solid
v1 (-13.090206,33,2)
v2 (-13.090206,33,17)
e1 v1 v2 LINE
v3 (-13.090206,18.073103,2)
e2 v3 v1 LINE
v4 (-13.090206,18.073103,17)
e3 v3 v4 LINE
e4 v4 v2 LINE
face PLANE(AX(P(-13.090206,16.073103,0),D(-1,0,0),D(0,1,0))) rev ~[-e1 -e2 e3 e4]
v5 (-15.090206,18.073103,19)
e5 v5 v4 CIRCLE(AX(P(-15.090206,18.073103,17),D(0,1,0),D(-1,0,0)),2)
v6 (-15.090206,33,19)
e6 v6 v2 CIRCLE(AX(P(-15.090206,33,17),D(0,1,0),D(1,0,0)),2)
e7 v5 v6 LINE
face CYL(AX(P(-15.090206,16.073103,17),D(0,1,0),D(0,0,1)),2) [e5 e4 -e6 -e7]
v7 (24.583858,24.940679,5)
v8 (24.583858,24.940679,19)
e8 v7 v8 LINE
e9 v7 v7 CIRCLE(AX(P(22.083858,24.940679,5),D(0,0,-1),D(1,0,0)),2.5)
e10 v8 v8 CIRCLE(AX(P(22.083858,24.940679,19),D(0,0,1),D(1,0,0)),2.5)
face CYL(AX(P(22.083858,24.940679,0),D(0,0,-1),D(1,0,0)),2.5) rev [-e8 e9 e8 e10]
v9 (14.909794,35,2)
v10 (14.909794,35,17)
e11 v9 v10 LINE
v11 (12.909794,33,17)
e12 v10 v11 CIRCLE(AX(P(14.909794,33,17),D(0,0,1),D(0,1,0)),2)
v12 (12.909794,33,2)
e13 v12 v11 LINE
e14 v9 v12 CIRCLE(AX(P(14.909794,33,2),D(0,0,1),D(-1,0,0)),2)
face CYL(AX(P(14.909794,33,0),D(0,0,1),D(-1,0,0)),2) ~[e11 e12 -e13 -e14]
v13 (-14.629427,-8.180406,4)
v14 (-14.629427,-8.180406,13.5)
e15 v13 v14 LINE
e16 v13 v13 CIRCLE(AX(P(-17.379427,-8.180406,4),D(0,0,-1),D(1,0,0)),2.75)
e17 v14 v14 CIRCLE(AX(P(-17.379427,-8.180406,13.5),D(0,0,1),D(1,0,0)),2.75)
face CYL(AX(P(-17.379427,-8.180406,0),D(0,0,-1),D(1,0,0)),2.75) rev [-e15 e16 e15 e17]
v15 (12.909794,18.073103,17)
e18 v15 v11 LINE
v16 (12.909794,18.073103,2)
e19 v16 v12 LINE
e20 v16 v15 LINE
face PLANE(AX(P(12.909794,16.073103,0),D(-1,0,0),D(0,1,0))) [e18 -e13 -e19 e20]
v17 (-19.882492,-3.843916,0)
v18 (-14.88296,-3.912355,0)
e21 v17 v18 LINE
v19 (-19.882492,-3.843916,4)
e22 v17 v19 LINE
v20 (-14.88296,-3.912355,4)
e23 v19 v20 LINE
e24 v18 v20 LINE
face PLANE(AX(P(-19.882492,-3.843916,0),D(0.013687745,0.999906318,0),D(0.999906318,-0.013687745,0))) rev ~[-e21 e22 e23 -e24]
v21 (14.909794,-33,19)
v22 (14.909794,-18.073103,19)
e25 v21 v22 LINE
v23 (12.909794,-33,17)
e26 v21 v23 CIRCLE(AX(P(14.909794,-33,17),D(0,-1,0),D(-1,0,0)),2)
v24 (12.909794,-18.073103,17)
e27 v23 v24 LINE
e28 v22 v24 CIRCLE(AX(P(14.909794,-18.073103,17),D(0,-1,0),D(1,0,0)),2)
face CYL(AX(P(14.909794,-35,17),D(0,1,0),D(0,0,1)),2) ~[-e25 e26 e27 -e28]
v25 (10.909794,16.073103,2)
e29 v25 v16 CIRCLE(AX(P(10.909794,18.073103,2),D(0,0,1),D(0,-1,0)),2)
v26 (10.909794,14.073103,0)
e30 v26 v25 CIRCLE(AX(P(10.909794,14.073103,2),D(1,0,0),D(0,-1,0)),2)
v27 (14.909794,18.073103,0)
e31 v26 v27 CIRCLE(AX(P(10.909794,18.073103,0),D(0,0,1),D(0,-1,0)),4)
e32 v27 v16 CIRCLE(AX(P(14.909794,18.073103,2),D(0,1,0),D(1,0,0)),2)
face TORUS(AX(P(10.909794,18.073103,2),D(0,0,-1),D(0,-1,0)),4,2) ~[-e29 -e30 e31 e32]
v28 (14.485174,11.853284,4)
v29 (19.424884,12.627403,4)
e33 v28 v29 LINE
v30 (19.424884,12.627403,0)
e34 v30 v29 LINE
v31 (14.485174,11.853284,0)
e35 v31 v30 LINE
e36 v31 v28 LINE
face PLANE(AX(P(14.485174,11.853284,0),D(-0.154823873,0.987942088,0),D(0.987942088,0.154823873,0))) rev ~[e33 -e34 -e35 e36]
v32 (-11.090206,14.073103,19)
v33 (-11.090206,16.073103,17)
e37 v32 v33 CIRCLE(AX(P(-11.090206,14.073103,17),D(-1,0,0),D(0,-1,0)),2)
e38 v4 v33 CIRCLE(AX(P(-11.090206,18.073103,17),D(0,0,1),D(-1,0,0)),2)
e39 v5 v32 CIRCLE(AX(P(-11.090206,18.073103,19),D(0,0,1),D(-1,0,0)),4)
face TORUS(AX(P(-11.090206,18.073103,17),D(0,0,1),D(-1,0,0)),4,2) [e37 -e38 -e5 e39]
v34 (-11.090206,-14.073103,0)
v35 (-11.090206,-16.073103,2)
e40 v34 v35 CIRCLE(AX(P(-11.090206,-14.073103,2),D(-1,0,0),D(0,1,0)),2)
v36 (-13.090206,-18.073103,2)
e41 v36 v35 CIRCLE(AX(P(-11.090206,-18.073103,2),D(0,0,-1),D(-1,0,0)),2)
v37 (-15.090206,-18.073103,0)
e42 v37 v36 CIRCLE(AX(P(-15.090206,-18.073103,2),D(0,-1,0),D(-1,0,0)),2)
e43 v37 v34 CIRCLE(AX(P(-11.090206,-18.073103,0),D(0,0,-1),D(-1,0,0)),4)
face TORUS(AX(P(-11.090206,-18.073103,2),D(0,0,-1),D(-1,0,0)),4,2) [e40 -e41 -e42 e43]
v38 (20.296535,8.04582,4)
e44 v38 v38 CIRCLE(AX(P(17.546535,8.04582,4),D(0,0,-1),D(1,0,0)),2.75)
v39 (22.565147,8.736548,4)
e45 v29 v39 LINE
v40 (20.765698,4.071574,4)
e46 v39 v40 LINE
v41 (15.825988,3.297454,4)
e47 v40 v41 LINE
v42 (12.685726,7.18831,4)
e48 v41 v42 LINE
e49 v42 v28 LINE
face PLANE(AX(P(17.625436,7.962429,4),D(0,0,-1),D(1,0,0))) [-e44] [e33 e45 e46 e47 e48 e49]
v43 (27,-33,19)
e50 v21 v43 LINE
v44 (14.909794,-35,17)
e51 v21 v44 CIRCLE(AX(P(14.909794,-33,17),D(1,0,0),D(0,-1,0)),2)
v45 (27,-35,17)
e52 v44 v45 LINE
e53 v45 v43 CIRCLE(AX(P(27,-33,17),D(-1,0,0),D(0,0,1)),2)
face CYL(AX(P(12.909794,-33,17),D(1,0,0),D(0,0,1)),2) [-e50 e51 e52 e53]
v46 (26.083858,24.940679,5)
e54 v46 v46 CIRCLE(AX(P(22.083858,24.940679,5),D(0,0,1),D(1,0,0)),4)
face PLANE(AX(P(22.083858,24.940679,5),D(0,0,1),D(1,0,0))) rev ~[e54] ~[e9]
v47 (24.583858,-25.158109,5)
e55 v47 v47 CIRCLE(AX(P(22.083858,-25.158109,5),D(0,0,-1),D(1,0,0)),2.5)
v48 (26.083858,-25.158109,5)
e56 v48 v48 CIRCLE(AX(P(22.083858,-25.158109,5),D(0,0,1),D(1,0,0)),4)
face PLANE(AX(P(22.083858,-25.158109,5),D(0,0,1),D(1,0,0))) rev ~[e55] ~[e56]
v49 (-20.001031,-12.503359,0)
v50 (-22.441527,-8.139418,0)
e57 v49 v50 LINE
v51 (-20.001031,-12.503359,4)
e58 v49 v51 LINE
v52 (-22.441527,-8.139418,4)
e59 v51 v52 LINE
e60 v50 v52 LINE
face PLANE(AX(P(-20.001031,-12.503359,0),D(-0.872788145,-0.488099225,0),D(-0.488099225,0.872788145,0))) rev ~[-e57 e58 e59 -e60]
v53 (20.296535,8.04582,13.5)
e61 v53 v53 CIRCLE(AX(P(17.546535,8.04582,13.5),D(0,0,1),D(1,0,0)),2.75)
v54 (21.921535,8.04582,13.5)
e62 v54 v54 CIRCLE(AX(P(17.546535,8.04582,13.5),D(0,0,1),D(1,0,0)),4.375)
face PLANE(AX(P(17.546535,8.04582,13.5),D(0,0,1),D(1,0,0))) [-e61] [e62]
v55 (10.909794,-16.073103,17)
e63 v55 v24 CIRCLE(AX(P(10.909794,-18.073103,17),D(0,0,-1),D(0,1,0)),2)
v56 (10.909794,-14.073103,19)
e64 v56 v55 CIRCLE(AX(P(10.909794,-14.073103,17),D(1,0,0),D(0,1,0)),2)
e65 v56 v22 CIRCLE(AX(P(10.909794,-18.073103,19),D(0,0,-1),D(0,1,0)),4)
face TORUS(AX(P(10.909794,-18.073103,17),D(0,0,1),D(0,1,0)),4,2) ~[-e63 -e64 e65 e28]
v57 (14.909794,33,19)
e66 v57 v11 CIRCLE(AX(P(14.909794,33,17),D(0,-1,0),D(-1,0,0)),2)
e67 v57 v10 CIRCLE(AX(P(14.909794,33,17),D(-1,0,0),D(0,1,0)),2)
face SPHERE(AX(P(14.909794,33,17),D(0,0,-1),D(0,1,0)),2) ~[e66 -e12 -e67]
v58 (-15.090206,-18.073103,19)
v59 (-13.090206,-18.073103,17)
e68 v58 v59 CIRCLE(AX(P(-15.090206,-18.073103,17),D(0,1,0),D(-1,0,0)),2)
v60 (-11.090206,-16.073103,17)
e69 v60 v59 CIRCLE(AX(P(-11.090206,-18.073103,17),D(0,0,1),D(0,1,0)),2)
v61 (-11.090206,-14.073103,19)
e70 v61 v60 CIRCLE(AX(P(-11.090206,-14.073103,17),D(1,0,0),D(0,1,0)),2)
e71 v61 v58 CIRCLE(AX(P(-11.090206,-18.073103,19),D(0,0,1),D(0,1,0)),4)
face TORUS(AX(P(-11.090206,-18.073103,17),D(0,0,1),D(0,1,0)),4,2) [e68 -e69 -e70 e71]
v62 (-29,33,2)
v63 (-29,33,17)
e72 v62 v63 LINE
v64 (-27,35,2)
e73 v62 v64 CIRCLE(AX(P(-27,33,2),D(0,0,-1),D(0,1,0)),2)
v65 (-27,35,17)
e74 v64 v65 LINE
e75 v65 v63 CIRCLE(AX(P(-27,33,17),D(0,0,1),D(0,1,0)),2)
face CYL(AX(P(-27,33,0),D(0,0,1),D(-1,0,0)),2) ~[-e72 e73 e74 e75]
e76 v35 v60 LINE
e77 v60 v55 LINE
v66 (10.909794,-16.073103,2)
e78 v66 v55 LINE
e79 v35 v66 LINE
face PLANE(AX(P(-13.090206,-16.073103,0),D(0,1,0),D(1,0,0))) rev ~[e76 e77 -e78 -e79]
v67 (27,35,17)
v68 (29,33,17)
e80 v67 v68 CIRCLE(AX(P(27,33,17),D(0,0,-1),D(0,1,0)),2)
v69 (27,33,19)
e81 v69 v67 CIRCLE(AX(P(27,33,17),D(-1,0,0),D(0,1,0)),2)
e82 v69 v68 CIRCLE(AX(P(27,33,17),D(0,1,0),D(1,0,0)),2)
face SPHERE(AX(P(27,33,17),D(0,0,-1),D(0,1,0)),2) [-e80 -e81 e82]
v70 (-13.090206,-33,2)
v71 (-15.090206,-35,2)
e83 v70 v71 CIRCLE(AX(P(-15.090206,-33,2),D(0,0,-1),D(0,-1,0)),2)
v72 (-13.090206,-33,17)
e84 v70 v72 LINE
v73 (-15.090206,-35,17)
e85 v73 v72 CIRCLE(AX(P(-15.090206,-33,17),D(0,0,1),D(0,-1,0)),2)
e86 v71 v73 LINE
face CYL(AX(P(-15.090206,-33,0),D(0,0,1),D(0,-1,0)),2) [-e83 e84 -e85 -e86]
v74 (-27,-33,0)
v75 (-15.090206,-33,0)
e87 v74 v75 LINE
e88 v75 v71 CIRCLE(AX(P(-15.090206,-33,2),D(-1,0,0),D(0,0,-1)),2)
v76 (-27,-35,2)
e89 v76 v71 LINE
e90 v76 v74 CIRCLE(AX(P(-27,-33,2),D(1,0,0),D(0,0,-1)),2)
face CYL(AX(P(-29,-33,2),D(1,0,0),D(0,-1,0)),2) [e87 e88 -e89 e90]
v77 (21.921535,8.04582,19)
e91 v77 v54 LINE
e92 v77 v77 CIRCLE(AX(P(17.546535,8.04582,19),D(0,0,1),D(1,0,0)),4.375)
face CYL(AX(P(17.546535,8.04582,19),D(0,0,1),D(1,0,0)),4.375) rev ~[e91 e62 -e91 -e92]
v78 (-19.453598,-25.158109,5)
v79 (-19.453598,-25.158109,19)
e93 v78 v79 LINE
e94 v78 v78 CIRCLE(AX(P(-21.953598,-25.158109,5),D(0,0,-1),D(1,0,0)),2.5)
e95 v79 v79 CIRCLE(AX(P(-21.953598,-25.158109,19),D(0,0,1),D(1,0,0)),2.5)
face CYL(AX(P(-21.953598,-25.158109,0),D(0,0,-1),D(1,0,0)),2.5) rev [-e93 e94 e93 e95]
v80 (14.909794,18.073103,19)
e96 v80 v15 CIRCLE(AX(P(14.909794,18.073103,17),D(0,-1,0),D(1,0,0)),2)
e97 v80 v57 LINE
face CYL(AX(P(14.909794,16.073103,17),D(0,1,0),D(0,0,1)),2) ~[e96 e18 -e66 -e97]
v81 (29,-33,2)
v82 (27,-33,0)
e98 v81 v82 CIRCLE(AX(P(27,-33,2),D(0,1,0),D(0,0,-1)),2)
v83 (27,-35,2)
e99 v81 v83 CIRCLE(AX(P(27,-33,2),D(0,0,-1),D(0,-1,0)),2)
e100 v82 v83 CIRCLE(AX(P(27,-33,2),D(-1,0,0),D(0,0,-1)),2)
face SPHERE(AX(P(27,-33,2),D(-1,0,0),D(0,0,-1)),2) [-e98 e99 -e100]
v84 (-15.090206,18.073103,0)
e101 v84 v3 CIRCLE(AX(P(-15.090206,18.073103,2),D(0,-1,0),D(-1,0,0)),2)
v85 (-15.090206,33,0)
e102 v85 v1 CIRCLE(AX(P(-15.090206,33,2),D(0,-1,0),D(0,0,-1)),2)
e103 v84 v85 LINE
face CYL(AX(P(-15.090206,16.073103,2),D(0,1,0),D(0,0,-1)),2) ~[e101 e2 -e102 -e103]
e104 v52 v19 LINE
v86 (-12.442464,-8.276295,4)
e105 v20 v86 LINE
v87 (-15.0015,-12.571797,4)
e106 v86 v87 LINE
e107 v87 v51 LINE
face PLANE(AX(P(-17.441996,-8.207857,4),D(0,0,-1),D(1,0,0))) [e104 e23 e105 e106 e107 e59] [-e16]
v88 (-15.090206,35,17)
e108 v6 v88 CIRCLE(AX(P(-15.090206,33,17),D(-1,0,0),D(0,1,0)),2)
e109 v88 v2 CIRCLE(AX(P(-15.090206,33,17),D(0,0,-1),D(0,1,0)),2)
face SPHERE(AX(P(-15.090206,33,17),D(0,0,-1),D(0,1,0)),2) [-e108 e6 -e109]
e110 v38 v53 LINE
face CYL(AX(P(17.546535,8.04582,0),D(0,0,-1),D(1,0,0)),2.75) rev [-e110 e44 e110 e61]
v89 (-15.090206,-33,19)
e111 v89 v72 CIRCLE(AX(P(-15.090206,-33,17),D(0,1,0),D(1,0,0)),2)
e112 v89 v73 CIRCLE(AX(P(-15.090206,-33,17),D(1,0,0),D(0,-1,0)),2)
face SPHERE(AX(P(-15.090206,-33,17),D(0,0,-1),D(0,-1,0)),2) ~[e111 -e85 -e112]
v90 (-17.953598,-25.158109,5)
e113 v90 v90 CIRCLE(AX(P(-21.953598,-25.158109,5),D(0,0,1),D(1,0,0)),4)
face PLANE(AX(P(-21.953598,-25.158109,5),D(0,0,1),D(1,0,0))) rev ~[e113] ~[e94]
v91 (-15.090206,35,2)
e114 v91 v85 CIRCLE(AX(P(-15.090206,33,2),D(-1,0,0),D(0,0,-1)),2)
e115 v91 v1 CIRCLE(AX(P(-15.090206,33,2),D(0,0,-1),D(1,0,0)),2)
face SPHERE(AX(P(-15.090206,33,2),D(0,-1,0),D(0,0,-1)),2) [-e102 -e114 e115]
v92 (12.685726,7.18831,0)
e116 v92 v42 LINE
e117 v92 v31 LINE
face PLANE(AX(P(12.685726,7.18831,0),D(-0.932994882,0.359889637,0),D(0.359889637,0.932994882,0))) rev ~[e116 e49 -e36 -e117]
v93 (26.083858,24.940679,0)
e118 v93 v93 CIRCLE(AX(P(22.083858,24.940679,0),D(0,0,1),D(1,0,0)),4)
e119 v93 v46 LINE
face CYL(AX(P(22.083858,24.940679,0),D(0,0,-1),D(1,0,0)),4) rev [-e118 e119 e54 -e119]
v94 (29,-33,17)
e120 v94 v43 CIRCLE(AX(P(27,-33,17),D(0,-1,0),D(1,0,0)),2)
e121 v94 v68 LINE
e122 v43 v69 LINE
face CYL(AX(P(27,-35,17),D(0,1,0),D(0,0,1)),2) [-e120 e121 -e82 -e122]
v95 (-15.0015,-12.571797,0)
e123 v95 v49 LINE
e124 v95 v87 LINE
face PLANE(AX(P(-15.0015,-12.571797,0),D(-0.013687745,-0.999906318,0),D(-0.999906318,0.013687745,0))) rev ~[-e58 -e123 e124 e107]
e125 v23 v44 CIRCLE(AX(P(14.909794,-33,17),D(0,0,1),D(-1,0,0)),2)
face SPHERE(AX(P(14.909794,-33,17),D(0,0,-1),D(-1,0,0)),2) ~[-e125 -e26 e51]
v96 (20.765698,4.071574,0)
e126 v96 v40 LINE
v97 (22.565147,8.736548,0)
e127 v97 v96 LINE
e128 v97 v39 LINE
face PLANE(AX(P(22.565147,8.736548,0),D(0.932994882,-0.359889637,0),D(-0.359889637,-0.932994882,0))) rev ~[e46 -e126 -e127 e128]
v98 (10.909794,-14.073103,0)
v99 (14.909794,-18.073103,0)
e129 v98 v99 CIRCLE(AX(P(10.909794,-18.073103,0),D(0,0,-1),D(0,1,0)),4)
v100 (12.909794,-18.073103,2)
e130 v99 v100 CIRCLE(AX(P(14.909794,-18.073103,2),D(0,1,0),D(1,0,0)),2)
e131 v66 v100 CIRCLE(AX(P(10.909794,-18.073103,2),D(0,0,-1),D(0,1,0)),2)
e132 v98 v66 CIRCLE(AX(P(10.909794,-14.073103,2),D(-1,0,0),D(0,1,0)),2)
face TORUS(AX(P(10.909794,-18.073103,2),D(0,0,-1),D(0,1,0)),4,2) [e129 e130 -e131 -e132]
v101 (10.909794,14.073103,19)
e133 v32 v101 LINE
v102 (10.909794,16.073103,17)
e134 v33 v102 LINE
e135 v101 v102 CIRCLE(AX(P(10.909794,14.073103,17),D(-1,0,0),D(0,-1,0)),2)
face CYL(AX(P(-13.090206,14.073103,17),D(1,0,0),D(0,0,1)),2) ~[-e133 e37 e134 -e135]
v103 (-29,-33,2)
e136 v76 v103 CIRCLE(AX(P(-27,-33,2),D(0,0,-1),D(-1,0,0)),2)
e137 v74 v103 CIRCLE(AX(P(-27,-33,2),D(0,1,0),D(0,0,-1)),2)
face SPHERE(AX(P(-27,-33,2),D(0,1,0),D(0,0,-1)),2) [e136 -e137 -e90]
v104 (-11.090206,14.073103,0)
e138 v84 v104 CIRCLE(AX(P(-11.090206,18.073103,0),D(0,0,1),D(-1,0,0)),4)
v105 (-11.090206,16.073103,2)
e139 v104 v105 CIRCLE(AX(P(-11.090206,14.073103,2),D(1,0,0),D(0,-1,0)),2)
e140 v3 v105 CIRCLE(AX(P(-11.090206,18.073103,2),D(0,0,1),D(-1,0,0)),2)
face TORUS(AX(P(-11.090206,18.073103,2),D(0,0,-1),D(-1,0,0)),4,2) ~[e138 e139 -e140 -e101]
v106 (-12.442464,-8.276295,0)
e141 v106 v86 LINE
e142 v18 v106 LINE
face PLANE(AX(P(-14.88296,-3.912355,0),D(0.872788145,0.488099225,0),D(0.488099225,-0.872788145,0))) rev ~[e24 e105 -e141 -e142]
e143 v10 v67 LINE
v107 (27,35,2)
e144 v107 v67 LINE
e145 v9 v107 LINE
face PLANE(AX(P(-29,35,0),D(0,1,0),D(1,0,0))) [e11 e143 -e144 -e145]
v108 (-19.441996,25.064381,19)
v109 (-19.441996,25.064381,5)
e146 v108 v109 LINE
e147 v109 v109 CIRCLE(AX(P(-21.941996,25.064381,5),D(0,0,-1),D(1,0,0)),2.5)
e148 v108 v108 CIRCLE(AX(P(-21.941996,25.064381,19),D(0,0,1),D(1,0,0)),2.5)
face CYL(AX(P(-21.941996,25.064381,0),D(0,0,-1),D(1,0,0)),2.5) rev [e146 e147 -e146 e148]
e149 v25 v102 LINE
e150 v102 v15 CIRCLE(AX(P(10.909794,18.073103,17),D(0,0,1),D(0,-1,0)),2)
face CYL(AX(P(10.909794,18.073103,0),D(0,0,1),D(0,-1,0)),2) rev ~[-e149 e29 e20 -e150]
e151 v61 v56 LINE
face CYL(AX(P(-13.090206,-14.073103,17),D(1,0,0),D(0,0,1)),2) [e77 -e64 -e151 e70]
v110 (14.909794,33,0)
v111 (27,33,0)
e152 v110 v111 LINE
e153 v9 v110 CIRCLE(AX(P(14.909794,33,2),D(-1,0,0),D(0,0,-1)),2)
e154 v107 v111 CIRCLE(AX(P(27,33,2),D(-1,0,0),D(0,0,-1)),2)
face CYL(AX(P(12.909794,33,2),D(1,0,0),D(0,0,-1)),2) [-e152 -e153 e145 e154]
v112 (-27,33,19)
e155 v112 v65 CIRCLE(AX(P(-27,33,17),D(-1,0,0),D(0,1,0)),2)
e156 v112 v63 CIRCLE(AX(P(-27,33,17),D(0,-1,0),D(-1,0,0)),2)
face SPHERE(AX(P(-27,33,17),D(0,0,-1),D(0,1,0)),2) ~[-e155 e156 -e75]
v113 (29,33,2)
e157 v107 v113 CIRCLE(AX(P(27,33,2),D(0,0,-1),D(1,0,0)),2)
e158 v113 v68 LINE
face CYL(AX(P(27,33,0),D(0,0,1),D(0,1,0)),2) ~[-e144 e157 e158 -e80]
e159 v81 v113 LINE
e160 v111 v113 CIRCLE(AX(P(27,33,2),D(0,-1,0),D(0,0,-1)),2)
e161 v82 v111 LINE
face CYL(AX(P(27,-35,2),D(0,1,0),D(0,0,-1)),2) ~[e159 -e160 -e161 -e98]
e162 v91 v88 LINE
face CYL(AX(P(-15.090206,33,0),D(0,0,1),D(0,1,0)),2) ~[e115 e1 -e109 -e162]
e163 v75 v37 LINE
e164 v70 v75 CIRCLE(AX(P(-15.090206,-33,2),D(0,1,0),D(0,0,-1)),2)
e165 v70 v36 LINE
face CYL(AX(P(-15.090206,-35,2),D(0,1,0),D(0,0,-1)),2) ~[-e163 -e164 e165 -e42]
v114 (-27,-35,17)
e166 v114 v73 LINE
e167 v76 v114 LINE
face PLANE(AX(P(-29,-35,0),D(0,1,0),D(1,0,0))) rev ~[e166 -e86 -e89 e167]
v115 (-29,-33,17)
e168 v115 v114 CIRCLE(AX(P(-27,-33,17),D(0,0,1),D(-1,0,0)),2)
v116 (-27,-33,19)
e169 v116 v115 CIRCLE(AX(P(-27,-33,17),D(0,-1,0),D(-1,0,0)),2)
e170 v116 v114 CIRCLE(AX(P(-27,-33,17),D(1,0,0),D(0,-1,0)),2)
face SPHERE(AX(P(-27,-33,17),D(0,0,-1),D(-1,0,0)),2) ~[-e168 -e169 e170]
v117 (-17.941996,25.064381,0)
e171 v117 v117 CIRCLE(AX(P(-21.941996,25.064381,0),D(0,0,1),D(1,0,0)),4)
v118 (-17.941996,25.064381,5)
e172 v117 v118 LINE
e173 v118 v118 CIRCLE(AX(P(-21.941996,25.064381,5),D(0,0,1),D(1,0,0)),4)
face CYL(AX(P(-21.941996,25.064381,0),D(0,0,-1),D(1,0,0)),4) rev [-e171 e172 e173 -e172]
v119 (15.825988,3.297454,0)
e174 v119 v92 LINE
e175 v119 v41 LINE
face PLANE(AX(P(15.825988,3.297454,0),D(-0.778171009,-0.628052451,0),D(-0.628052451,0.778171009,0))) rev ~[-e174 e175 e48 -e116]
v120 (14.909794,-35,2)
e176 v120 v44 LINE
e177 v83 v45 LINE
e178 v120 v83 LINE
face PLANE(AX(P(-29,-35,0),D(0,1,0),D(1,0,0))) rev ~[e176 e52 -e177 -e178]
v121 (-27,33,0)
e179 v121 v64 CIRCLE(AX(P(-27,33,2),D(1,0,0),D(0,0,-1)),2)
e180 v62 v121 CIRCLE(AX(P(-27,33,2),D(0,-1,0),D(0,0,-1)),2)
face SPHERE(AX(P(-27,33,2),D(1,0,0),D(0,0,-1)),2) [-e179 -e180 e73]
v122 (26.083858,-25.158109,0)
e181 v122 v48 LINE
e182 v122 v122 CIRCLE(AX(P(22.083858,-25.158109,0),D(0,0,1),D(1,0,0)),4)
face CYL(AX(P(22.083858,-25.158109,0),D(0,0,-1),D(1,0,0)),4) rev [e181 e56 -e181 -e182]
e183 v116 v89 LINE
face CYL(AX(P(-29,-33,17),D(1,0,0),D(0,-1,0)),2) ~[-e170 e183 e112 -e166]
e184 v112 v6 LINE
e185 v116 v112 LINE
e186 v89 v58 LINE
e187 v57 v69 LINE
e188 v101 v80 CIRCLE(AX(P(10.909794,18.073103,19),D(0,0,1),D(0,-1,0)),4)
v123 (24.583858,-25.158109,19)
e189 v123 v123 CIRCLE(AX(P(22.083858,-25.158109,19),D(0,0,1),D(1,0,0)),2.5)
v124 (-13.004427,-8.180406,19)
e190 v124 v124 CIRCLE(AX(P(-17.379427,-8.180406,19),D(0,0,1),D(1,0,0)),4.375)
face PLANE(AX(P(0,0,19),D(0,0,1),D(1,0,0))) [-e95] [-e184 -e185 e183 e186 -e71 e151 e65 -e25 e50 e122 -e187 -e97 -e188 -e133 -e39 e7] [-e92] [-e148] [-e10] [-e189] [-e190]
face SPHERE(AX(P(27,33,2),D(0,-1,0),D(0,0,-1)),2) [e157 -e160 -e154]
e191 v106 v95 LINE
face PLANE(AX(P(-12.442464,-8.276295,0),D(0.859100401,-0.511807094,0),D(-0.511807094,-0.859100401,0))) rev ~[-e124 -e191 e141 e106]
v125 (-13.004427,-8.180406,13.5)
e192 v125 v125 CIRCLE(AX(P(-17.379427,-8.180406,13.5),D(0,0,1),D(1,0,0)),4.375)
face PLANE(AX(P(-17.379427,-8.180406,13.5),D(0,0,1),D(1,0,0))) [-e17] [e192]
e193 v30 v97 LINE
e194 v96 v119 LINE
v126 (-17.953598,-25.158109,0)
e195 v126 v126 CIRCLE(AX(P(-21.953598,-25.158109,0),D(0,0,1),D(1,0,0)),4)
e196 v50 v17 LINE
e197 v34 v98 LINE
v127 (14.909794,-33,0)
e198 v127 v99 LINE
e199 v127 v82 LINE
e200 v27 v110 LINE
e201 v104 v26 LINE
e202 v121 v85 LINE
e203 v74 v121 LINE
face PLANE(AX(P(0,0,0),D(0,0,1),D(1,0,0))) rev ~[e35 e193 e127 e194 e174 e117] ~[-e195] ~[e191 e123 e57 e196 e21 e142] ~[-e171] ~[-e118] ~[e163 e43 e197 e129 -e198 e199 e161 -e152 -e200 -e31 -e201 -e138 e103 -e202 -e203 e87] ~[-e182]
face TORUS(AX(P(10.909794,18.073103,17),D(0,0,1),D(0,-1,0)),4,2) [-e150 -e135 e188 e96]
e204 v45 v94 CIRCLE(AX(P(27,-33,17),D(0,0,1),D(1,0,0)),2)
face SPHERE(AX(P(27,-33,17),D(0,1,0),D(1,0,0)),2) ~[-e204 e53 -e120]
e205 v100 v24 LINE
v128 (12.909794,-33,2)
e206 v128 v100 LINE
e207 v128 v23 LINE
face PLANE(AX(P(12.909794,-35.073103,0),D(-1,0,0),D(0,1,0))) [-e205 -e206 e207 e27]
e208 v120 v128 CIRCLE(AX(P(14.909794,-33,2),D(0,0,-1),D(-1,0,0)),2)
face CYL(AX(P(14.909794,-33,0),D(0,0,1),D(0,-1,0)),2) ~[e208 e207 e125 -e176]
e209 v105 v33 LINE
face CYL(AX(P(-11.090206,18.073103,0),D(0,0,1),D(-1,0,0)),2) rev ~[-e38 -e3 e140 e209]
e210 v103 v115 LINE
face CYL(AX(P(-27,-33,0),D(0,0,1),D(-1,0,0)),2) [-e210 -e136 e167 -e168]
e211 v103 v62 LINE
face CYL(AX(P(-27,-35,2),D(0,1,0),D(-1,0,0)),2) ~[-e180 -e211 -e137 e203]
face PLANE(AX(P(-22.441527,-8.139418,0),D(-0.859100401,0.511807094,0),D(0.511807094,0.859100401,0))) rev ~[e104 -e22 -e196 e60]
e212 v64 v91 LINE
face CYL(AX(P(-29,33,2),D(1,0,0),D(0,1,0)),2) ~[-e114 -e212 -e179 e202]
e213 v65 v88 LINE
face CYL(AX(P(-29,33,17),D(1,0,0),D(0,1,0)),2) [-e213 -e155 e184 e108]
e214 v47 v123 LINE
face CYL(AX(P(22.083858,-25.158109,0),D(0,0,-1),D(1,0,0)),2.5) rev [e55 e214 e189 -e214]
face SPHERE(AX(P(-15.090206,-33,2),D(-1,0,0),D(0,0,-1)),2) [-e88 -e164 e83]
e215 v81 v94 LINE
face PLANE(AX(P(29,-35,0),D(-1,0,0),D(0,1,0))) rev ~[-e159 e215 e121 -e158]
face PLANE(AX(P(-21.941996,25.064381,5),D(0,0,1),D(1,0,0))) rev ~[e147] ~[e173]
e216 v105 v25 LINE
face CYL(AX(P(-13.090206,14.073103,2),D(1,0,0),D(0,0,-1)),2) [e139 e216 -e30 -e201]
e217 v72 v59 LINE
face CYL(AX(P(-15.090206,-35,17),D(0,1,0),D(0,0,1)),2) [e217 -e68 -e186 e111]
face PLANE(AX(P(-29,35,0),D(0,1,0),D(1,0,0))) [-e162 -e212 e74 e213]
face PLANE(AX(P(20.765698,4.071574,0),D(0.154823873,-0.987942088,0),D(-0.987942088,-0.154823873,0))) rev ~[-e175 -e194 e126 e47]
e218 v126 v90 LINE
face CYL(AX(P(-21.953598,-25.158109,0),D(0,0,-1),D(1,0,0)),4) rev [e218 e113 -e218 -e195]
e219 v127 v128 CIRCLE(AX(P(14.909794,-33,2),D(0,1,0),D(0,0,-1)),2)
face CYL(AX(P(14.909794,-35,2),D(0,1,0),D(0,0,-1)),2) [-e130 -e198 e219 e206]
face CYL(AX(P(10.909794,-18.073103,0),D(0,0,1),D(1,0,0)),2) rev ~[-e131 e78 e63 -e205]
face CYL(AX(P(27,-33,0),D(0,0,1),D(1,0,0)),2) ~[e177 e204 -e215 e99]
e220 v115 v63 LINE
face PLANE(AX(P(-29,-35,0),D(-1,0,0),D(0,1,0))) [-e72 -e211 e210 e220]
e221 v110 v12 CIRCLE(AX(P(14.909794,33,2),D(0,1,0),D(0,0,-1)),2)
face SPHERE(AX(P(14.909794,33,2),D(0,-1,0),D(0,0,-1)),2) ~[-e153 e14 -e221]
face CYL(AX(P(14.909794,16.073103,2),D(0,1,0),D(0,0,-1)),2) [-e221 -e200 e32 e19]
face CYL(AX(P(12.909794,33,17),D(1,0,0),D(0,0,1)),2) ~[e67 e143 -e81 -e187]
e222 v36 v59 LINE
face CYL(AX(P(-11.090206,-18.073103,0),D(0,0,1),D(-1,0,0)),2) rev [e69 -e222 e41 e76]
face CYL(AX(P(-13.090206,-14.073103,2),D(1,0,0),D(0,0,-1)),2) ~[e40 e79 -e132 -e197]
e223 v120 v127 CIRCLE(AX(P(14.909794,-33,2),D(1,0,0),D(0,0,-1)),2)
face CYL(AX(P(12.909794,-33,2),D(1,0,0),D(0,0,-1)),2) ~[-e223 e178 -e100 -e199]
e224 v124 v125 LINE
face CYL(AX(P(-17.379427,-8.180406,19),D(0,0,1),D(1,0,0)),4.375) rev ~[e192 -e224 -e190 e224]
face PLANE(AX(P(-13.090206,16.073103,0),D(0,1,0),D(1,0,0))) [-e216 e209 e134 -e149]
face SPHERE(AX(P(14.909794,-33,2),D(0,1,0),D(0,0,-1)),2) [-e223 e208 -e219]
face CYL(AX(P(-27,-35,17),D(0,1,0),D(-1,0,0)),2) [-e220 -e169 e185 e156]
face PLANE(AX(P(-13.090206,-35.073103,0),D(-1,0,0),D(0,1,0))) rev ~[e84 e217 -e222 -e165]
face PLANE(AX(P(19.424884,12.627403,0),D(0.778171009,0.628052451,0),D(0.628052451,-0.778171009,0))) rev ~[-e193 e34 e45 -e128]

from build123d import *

# Parameters (mm, degrees)
F0_W      = 58
F0_H      = 70
F4_DEPTH  = 19
F3_R      = 2.5
F5_DEPTH  = 14
F2_R      = 4
F6_DEPTH  = 5
F7_DEPTH  = 19
F8_DEPTH  = 5
F9_R      = 2.75
F10_DEPTH = 19
F12_DEPTH = 4
F13_W     = 26
F13_H     = 19
F14_DEPTH = 19
F15_R     = 2
F16_R     = 4.375
F16_R_2   = 2.75
F17_DEPTH = 5.5


with BuildPart() as f4:
    # F0 (on Top) → F4 (new body)
    with BuildSketch(Plane.XY):
        Rectangle(F0_W, F0_H)
    extrude(amount=F4_DEPTH)

    # F3 (on Top) → F5 (cut)
    with BuildSketch(Plane.XY):
        with Locations((-21.9419958555, 25.0643808395)):
            Circle(F3_R)
    extrude(amount=F5_DEPTH, mode=Mode.SUBTRACT)

    # F2 (on Top) → F6 (cut)
    with BuildSketch(Plane.XY):
        with Locations((-21.9419958555, 25.0643808395)):
            Circle(F2_R)
    extrude(amount=F6_DEPTH, mode=Mode.SUBTRACT)

    # F3 (on Top) → F7 (cut)
    with BuildSketch(Plane.XY):
        with Locations((-21.9419958555, 25.0643808395)):
            Circle(F3_R)
        with Locations((22.0838580281, 24.9406788498)):
            Circle(F3_R)
        with Locations((-21.9535976648, -25.1581091434)):
            Circle(F3_R)
        with Locations((22.0838580281, -25.1581091434)):
            Circle(F3_R)
    extrude(amount=F7_DEPTH, mode=Mode.SUBTRACT)

    # F2 (on Top) → F8 (cut)
    with BuildSketch(Plane.XY):
        with Locations((-21.9419958555, 25.0643808395)):
            Circle(F2_R)
        with Locations((-21.9535976648, -25.1581091434)):
            Circle(F2_R)
        with Locations((22.0838580281, -25.1581091434)):
            Circle(F2_R)
        with Locations((22.0838580281, 24.9406788498)):
            Circle(F2_R)
    extrude(amount=F8_DEPTH, mode=Mode.SUBTRACT)

    # F9 (on Top) → F10 (cut)
    with BuildSketch(Plane.XY):
        with Locations((17.5465345383, 8.045819588)):
            Circle(F9_R)
        with Locations((-17.3794273287, -8.1804059446)):
            Circle(F9_R)
    extrude(amount=F10_DEPTH, mode=Mode.SUBTRACT)

    # F11 (on face) → F12 (cut)
    with BuildSketch(Plane(origin=(0, 0, 0), x_dir=(1, 0, 0), z_dir=(0, 0, -1))):
        Polygon((-15.0014997318, 12.5717974553), (-20.001031324, 12.5033587326), (-22.4415274477, 8.1394180054), (-19.8824919791, 3.8439160009), (-14.8829603869, 3.9123547236), (-12.4424642633, 8.2762954508), align=None)
        Polygon((19.4248843713, -12.627403312), (22.5651466247, -8.7365482672), (20.7656984402, -4.0715738588), (15.8259880023, -3.2974544952), (12.6857257488, -7.1883095399), (14.4851739333, -11.8532839484), align=None)
    extrude(amount=-F12_DEPTH, mode=Mode.SUBTRACT)

    # F13 (on Top) → F14 (cut)
    with BuildSketch(Plane.XY):
        with Locations((-0.0902060419, 25.5731031678)):
            Rectangle(F13_W, F13_H)
        with Locations((-0.0902060419, -25.5731031678)):
            Rectangle(F13_W, F13_H)
    extrude(amount=F14_DEPTH, mode=Mode.SUBTRACT)

    # F15
    f15_edges = [f4.edges().sort_by_distance(p)[0] for p in [
        (-13.090206, 25.536552, 0),
        (-0.090206, 16.073103, 0),
        (12.909794, 25.536552, 0),
        (-21.045103, 35, 0),
        (-29, 0, 0),
        (-21.045103, -35, 0),
        (-13.090206, -25.536552, 0),
        (-0.090206, -16.073103, 0),
        (12.909794, -25.536552, 0),
        (20.954897, -35, 0),
        (29, 0, 0),
        (20.954897, 35, 0),
        (-13.090206, 35, 9.5),
        (-13.090206, 16.073103, 9.5),
        (12.909794, 35, 9.5),
        (29, 35, 9.5),
        (-29, 35, 9.5),
        (-21.045103, 35, 19),
        (-13.090206, 25.536552, 19),
        (-0.090206, 16.073103, 19),
        (20.954897, 35, 19),
        (29, 0, 19),
        (29, -35, 9.5),
        (12.909794, 25.536552, 19),
        (-29, -35, 9.5),
        (-29, 0, 19),
        (-13.090206, -35, 9.5),
        (12.909794, -35, 9.5),
        (12.909794, -25.536552, 19),
        (12.909794, -16.073103, 9.5),
        (20.954897, -35, 19),
        (-21.045103, -35, 19),
        (-0.090206, -16.073103, 19),
        (-13.090206, -25.536552, 19),
        (-13.090206, -16.073103, 9.5),
        (12.909794, 16.073103, 9.5),
    ]]
    fillet(f15_edges, radius=F15_R)

    # F16 (on face) → F17 (cut)
    with BuildSketch(Plane.XY.offset(19)):
        with Locations((-17.3794273287, -8.1804059446)):
            Circle(F16_R)
        with Locations((-17.3794273287, -8.1804059446)):
            Circle(F16_R_2, mode=Mode.SUBTRACT)
        with Locations((17.5465345383, 8.045819588)):
            Circle(F16_R)
        with Locations((17.5465345383, 8.045819588)):
            Circle(F16_R_2, mode=Mode.SUBTRACT)
    extrude(amount=-F17_DEPTH, mode=Mode.SUBTRACT)


solid = f4.part
